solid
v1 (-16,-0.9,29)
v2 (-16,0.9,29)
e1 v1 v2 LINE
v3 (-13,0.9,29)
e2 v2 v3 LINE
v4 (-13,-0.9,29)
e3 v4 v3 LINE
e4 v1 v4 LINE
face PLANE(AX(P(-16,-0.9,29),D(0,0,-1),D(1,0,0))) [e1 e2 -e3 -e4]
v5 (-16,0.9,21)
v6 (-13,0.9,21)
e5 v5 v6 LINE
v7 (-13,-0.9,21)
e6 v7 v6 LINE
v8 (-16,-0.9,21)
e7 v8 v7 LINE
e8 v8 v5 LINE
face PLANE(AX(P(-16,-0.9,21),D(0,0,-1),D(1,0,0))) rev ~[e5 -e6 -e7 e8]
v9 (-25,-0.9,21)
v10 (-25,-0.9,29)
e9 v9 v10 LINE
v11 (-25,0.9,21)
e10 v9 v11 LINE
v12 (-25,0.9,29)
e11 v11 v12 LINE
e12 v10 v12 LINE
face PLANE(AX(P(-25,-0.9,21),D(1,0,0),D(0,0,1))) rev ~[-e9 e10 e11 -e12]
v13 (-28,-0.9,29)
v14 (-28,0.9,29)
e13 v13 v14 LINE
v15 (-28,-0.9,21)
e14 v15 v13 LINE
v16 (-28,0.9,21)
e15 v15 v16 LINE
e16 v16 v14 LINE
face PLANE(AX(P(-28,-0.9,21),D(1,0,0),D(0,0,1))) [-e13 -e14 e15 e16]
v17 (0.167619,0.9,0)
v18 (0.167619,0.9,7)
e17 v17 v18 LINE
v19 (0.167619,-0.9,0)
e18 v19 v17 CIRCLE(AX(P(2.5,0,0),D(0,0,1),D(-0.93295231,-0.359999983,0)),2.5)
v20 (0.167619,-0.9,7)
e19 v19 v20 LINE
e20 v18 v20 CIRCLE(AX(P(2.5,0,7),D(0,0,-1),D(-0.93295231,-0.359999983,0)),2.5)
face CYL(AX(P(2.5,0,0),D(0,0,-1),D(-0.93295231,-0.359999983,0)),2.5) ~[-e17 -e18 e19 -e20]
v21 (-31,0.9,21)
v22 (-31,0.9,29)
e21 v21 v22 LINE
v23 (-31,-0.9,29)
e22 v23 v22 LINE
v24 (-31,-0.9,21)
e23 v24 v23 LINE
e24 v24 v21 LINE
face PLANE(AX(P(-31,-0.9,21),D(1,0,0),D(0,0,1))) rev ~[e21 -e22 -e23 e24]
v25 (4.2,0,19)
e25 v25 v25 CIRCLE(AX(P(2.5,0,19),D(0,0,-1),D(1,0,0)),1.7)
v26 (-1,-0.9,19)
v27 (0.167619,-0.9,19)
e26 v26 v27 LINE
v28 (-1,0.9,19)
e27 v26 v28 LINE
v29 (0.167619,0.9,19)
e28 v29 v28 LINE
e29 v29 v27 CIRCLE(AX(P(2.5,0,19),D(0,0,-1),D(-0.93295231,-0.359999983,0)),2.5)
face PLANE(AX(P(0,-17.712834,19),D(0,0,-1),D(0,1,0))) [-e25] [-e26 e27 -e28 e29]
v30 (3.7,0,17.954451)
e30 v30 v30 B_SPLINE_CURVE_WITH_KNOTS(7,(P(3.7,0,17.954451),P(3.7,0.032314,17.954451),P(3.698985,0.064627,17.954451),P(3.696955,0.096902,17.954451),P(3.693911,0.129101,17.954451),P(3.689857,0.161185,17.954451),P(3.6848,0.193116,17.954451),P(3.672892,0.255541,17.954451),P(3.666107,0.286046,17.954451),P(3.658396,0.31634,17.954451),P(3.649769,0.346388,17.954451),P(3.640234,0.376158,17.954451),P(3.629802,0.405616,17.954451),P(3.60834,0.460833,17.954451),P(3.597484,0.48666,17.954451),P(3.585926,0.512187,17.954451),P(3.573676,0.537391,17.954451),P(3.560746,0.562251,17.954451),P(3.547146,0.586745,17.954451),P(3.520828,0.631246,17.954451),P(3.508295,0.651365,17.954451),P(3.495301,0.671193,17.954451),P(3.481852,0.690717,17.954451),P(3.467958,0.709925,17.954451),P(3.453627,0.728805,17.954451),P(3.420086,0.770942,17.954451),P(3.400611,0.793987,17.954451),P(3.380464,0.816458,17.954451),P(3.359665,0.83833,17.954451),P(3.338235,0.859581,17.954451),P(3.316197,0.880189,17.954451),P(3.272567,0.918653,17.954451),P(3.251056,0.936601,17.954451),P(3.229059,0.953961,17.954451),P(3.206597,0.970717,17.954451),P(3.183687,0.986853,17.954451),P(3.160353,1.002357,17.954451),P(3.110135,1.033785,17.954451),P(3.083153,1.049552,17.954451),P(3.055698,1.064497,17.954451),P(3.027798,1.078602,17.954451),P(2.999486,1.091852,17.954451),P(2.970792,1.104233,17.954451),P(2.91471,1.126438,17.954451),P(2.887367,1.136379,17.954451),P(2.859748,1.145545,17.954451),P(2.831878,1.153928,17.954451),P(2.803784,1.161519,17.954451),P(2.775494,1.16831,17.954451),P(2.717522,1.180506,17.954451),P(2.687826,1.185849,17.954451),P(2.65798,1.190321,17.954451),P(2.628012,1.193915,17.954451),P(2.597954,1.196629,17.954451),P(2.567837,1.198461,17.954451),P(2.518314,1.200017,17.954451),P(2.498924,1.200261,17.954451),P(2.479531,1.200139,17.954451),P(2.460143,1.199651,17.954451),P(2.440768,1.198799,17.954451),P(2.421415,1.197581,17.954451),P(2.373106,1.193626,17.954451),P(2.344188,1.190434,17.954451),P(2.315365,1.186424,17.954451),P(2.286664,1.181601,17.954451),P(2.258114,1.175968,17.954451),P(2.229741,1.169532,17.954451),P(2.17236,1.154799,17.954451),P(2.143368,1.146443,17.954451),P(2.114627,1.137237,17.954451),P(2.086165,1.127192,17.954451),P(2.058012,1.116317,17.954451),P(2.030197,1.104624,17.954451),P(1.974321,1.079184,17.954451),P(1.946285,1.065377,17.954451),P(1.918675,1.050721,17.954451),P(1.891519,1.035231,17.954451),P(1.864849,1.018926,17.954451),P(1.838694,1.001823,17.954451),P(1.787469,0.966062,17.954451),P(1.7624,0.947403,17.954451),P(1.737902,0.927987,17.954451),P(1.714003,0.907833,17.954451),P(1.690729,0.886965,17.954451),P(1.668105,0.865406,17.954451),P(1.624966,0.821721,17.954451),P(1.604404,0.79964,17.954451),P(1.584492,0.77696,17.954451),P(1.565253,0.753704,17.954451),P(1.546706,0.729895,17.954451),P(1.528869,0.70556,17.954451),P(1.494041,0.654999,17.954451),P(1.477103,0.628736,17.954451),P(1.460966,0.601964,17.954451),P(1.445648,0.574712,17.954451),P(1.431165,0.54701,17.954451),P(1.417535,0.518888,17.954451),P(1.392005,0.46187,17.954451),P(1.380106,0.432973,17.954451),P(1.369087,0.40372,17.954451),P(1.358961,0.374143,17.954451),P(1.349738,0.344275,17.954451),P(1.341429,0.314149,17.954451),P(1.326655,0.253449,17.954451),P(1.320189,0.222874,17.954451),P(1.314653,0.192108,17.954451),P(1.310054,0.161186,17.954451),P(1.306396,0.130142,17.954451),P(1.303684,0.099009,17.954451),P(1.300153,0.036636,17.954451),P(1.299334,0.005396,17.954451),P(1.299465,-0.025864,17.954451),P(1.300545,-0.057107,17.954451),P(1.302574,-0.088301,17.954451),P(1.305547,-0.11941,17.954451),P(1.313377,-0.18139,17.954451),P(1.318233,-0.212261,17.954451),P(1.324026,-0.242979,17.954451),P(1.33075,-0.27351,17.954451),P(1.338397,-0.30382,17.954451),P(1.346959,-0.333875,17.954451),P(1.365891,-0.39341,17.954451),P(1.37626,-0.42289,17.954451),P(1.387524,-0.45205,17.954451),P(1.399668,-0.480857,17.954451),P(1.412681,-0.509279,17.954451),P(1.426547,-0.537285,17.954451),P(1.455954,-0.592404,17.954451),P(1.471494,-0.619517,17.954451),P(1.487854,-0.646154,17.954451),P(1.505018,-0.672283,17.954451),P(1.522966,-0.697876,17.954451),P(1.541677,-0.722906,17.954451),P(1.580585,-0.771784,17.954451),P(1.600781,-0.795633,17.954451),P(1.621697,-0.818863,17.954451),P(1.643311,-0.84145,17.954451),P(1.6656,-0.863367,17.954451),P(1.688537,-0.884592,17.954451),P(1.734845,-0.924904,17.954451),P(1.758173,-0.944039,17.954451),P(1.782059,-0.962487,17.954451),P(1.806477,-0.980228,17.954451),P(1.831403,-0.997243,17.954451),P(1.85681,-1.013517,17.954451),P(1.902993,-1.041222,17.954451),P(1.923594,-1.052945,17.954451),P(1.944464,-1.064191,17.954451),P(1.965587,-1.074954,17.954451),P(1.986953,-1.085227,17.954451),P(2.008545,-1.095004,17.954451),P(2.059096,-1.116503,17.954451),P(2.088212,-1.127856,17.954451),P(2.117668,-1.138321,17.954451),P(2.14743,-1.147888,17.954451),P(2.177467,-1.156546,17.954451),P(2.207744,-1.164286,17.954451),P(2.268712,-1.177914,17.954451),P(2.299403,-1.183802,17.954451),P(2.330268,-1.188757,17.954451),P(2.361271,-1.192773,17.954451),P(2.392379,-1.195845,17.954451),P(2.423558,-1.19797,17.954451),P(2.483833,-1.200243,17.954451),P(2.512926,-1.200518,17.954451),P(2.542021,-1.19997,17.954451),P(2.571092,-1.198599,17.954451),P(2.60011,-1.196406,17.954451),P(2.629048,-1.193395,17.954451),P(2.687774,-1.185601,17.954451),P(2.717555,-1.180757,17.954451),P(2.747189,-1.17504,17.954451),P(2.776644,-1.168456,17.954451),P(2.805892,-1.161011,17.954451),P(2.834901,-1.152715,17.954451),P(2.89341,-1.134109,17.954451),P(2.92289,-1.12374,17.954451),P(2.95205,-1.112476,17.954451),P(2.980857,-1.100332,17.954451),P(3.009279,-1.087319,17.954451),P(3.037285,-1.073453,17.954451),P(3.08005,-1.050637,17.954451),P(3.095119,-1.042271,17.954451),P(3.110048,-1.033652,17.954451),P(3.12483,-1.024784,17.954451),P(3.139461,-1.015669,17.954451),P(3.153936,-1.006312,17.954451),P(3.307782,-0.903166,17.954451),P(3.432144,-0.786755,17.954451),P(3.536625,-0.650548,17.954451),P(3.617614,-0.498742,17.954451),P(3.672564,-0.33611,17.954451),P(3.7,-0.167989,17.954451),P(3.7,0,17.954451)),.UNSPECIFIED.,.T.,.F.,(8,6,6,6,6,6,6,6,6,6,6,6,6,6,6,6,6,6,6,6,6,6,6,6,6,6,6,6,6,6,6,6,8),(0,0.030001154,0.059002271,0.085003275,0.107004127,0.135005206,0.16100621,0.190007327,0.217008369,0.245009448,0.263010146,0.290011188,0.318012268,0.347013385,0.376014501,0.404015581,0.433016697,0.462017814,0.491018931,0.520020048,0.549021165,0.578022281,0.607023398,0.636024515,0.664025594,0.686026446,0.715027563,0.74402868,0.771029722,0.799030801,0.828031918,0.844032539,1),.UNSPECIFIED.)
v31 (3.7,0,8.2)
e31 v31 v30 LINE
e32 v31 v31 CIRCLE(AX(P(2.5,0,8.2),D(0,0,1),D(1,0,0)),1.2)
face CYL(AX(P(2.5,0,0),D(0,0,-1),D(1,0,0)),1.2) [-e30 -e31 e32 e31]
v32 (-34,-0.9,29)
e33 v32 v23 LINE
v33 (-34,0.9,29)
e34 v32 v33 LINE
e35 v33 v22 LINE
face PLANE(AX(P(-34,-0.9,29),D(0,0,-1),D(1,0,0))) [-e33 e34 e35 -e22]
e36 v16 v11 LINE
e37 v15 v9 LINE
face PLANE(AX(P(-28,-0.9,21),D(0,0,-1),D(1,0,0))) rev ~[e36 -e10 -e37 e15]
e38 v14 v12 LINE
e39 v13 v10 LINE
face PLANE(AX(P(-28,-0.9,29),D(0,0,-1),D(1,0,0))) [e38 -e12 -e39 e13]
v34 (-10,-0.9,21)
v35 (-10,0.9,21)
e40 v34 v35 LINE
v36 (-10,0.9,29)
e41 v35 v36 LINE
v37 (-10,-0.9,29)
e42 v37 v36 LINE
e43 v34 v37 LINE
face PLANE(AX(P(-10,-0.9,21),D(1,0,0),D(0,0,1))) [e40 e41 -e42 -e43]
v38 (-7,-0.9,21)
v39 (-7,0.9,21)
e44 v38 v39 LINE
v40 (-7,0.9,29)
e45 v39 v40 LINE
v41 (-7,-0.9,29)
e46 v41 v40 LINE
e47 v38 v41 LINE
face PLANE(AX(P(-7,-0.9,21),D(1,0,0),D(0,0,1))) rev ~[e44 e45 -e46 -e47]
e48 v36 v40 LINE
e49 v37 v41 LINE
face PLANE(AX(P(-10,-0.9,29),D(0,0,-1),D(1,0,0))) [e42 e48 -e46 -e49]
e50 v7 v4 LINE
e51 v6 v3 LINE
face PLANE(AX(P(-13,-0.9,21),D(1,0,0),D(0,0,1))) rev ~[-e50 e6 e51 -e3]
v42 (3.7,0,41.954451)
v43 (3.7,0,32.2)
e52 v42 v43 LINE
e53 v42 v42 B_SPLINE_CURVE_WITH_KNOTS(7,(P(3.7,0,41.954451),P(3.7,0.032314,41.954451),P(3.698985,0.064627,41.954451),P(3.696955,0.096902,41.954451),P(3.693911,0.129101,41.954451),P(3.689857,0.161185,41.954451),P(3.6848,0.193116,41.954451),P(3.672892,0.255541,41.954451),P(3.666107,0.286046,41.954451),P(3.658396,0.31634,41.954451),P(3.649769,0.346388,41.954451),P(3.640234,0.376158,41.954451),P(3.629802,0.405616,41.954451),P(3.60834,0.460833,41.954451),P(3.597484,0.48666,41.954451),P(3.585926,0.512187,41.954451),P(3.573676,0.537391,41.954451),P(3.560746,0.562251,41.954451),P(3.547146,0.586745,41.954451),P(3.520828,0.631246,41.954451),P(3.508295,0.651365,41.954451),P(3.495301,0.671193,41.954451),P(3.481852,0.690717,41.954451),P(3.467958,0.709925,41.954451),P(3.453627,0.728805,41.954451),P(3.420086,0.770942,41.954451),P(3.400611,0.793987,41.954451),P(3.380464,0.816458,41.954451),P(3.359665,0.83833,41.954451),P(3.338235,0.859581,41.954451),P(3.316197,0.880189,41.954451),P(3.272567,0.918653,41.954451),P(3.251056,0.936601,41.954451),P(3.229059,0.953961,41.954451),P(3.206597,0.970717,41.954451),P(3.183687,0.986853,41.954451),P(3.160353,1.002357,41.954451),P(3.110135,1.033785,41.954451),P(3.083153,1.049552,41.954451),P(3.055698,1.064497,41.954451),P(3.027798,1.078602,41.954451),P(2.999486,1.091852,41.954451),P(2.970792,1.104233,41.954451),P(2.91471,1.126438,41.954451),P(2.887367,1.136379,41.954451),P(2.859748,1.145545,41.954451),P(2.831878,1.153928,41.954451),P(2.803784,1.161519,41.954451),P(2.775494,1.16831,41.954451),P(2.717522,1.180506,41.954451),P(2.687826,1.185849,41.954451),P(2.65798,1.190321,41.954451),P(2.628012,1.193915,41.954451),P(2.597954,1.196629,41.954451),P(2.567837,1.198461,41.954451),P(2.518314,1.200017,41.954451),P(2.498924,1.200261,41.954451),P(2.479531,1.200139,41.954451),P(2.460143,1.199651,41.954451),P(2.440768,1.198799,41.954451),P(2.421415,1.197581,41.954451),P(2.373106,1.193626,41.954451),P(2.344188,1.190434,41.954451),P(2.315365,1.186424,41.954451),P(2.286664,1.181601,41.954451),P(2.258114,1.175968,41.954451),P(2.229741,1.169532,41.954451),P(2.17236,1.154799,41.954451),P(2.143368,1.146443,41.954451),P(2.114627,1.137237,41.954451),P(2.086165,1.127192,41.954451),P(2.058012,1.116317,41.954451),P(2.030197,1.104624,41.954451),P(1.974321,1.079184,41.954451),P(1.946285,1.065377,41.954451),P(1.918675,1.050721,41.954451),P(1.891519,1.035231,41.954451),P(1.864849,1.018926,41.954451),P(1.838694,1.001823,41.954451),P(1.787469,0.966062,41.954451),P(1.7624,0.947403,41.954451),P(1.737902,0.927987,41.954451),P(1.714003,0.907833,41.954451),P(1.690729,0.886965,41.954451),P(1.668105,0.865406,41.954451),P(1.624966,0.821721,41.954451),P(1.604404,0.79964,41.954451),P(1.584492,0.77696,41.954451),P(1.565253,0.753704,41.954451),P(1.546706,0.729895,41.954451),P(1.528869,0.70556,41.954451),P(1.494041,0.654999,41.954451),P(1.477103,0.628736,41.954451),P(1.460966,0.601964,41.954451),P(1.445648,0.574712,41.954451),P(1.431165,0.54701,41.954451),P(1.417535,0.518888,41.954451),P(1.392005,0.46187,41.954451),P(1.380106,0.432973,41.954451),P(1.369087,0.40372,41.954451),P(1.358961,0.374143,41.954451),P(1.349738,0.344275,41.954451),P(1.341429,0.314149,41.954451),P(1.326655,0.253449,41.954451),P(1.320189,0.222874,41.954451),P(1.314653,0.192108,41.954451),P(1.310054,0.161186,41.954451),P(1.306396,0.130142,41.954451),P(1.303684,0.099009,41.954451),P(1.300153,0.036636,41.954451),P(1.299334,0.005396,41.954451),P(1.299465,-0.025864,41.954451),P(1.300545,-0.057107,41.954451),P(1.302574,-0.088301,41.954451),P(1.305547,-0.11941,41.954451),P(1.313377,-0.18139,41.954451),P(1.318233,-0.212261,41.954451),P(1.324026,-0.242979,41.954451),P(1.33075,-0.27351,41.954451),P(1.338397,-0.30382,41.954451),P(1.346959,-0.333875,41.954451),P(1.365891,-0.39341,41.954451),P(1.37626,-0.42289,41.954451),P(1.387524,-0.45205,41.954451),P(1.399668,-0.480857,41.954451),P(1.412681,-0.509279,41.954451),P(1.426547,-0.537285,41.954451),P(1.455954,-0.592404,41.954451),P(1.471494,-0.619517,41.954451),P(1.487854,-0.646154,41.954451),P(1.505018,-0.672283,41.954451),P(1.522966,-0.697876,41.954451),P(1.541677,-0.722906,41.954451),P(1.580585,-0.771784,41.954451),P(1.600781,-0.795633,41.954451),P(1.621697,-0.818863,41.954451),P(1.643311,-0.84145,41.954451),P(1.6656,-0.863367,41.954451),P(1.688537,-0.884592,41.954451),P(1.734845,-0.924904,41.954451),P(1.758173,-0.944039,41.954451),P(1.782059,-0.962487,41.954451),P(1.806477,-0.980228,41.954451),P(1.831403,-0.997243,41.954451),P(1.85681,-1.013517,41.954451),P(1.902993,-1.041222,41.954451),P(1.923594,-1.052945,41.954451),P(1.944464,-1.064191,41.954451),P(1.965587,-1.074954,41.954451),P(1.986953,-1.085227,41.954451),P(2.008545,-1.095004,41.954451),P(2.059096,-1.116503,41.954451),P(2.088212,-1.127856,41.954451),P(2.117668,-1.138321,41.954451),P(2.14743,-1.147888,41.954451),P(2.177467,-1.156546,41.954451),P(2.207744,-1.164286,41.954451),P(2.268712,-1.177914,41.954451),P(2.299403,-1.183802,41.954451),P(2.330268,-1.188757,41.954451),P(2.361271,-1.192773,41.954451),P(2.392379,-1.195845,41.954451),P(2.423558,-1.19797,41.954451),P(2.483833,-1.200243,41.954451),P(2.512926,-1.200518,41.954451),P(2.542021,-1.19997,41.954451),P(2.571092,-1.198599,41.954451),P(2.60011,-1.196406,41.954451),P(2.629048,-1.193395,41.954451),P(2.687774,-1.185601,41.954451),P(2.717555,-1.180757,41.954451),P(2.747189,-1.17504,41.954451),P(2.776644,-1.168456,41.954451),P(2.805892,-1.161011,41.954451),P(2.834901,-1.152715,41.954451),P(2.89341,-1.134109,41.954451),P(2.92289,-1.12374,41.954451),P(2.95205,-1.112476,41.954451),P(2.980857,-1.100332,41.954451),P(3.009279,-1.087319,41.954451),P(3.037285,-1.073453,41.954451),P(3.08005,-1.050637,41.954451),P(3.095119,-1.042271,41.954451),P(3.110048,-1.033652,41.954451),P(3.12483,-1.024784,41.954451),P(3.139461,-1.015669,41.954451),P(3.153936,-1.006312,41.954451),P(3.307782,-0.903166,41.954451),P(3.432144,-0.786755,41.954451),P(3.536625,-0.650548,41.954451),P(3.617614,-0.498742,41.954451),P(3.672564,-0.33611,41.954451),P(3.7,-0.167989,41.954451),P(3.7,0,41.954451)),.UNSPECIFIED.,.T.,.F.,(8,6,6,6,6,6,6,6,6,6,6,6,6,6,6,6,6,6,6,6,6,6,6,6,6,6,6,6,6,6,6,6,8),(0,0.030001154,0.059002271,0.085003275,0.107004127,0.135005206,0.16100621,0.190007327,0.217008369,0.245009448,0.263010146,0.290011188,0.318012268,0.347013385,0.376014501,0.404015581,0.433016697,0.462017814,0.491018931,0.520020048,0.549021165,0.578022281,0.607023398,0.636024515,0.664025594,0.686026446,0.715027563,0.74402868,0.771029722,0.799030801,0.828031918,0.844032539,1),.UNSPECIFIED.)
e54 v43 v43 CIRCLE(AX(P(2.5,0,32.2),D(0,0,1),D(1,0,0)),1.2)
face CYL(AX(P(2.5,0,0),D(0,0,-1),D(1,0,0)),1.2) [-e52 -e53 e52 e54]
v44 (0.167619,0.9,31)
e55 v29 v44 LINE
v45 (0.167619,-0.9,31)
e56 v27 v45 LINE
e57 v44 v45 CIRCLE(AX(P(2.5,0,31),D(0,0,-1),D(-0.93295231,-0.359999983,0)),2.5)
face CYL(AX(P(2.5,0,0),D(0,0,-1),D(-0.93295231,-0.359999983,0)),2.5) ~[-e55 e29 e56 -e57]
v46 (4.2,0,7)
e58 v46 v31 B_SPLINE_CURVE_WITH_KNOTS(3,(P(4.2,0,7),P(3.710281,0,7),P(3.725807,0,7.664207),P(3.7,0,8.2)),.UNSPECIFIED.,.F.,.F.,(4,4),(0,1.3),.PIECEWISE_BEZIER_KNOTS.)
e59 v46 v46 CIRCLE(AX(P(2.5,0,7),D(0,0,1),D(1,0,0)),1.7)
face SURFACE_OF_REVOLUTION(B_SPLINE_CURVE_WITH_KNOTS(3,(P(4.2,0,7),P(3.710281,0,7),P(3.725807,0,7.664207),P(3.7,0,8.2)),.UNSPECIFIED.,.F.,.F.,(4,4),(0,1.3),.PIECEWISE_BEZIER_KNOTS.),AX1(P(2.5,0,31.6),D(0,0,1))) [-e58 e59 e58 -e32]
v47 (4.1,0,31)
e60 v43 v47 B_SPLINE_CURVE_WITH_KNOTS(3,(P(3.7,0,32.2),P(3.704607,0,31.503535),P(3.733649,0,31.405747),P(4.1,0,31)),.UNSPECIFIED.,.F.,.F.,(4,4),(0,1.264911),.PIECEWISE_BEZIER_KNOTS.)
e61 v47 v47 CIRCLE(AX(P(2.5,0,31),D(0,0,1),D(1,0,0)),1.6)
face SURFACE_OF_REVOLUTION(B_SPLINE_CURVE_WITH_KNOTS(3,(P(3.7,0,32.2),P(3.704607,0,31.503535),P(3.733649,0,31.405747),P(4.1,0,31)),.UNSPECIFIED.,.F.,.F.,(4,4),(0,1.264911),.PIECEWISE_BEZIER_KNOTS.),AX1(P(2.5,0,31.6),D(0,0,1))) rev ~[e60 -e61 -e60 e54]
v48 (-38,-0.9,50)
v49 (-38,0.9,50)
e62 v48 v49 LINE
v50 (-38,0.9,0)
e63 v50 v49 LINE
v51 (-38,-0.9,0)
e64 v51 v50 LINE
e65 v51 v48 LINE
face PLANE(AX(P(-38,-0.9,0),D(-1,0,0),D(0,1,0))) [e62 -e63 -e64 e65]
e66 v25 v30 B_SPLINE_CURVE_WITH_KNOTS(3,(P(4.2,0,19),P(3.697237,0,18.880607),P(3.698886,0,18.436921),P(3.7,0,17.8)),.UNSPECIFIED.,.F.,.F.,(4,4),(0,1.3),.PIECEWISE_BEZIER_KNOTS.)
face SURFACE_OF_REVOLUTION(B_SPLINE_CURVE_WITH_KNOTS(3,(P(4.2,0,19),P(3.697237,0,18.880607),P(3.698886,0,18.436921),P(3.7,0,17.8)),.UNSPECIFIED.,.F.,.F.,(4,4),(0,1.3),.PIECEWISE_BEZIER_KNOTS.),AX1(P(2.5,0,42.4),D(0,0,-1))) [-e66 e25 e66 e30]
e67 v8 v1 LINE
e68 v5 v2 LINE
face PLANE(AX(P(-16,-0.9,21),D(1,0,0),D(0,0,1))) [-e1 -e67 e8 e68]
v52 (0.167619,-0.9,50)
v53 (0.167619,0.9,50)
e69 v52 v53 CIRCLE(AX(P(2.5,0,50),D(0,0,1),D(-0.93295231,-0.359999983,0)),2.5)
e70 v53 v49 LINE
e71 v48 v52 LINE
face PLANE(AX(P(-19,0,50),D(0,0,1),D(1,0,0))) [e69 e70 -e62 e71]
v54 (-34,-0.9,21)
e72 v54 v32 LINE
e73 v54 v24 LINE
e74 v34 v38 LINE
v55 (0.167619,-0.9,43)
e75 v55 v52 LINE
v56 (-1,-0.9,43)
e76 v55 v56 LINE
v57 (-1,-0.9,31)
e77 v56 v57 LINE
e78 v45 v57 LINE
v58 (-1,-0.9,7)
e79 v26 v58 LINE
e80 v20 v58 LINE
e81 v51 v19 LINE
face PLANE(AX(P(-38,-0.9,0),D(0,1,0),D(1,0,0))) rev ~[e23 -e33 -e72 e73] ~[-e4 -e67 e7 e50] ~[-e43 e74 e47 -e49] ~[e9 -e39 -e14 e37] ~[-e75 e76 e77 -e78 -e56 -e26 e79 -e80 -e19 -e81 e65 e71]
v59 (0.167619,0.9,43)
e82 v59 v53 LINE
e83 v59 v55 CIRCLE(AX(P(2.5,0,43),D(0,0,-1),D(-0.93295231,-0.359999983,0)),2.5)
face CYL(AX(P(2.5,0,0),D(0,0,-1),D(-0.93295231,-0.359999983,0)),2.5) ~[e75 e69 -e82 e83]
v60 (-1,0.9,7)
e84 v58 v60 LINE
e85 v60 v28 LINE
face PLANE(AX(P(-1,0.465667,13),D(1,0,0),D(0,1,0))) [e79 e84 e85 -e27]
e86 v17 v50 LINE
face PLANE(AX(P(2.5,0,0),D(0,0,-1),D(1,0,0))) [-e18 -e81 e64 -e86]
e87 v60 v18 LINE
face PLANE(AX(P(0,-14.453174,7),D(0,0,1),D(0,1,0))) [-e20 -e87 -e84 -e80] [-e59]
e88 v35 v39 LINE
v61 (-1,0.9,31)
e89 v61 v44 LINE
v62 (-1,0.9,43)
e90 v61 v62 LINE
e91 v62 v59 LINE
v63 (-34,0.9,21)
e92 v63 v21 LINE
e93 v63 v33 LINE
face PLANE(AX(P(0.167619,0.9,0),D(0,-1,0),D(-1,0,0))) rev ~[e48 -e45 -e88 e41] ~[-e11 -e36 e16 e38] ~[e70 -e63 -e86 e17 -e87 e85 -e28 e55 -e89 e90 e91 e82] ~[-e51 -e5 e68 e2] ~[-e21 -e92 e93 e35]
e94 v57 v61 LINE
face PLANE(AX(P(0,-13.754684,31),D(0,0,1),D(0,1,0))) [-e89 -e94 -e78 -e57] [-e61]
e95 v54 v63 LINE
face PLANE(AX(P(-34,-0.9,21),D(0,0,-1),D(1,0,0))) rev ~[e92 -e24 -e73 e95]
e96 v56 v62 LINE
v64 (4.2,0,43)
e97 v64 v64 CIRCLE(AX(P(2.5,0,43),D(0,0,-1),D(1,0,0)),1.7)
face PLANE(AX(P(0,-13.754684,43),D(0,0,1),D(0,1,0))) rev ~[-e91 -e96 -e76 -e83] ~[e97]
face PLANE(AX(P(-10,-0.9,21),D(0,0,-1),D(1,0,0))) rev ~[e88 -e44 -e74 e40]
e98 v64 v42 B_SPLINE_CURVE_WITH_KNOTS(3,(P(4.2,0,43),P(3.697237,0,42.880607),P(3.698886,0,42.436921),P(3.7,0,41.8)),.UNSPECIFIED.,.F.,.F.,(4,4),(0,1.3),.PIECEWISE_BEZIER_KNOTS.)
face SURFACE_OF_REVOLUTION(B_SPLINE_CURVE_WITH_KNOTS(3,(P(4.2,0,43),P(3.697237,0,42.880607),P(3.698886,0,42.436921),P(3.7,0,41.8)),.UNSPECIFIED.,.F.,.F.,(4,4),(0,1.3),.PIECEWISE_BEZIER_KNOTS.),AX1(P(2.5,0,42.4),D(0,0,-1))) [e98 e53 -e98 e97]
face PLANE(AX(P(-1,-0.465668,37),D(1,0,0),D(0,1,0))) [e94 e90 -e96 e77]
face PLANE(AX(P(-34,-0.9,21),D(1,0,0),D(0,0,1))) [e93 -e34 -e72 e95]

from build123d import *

# Parameters (mm, degrees)
F0_W      = 38
F0_H      = 1.8
F1_DEPTH  = 50
F2_W      = 33.097349
F2_H      = 12
F2_W_2    = 36.357001
F3_DEPTH  = 25
F5_W      = 3
F5_H      = 8
F6_DEPTH  = 1.8
F10_R     = 1.2
F11_DEPTH = 43
F4_W      = 33.097349
F4_H      = 12
F4_W_2    = 36.357002
F14_DEPTH = 1


with BuildPart() as f1:
    # F0 (on Top) → F1 (new body)
    with BuildSketch(Plane.XY):
        with Locations((-19, 0)):
            Rectangle(F0_W, F0_H)
        with BuildLine():
            Line((0.167619, 0.9), (0, 0.9))
            Line((0, 0.9), (0, -0.9))
            Line((0, -0.9), (0.167619, -0.9))
            ThreePointArc((0.167619, -0.9), (5, 0), (0.167619, 0.9))
        make_face()
    extrude(amount=F1_DEPTH)

    # F2 (on Right) → F3 (cut)
    with BuildSketch(Plane.YZ):
        with Locations((2.793991, 37)):
            Rectangle(F2_W, F2_H)
        with Locations((3.725327, 13)):
            Rectangle(F2_W_2, F2_H)
    extrude(amount=F3_DEPTH, mode=Mode.SUBTRACT)

    # F5 (on face) → F6 (cut, through all)
    with BuildSketch(Plane.XZ.offset(0.9)):
        with Locations((-32.5, 25)):
            Rectangle(F5_W, F5_H)
        with Locations((-26.5, 25)):
            Rectangle(F5_W, F5_H)
        with Locations((-14.5, 25)):
            Rectangle(F5_W, F5_H)
        with Locations((-8.5, 25)):
            Rectangle(F5_W, F5_H)
    extrude(amount=-F6_DEPTH, mode=Mode.SUBTRACT)

    # F8 (on Front) → F9 (revolve)
    with BuildSketch(Plane.XZ):
        with BuildLine():
            add(Edge.make_bspline(
                [(3.7, 32.2), (3.704607, 31.503535), (3.733649, 31.405747), (4.1, 31)],
                knots=[0, 0, 0, 0, 1.264911, 1.264911, 1.264911, 1.264911], degree=3))
            Line((3.7, 32.2), (2.5, 32.2))
            Line((2.5, 32.2), (2.5, 31))
            Line((2.5, 31), (4.1, 31))
        make_face()
        with BuildLine():
            Line((2.5, 8.2), (2.5, 7))
            Line((2.5, 7), (4.2, 7))
            add(Edge.make_bspline(
                [(4.2, 7), (3.710281, 7), (3.725807, 7.664207), (3.7, 8.2)],
                knots=[0, 0, 0, 0, 1.3, 1.3, 1.3, 1.3], degree=3))
            Line((3.7, 8.2), (2.5, 8.2))
        make_face()
    revolve(axis=Axis((2.5, 0, 31.6), (0, 0, 1)))

    # F10 (on face) → F11 (join, through all)
    with BuildSketch(Plane(origin=(0, 0, 0), x_dir=(1, 0, 0), z_dir=(0, 0, -1))):
        with Locations((2.5, 0)):
            Circle(F10_R)
    extrude(amount=-F11_DEPTH)

    # F12 (on Front) → F13 (revolve)
    with BuildSketch(Plane.XZ):
        with BuildLine():
            Line((4.2, 43), (2.5, 43))
            Line((2.5, 43), (2.5, 41.8))
            Line((2.5, 41.8), (3.7, 41.8))
            add(Edge.make_bspline(
                [(4.2, 43), (3.697237, 42.880607), (3.698886, 42.436921), (3.7, 41.8)],
                knots=[0, 0, 0, 0, 1.3, 1.3, 1.3, 1.3], degree=3))
        make_face()
        with BuildLine():
            Line((4.2, 19), (2.5, 19))
            Line((2.5, 19), (2.5, 17.8))
            Line((2.5, 17.8), (3.7, 17.8))
            add(Edge.make_bspline(
                [(4.2, 19), (3.697237, 18.880607), (3.698886, 18.436921), (3.7, 17.8)],
                knots=[0, 0, 0, 0, 1.3, 1.3, 1.3, 1.3], degree=3))
        make_face()
    revolve(axis=Axis((2.5, 0, 42.4), (0, 0, -1)))

    # F4 (on Right) → F14 (cut)
    with BuildSketch(Plane.YZ):
        with Locations((-0.465668, 37)):
            Rectangle(F4_W, F4_H)
        with Locations((0.465667, 13)):
            Rectangle(F4_W_2, F4_H)
    extrude(amount=-F14_DEPTH, mode=Mode.SUBTRACT)


solid = f1.part
